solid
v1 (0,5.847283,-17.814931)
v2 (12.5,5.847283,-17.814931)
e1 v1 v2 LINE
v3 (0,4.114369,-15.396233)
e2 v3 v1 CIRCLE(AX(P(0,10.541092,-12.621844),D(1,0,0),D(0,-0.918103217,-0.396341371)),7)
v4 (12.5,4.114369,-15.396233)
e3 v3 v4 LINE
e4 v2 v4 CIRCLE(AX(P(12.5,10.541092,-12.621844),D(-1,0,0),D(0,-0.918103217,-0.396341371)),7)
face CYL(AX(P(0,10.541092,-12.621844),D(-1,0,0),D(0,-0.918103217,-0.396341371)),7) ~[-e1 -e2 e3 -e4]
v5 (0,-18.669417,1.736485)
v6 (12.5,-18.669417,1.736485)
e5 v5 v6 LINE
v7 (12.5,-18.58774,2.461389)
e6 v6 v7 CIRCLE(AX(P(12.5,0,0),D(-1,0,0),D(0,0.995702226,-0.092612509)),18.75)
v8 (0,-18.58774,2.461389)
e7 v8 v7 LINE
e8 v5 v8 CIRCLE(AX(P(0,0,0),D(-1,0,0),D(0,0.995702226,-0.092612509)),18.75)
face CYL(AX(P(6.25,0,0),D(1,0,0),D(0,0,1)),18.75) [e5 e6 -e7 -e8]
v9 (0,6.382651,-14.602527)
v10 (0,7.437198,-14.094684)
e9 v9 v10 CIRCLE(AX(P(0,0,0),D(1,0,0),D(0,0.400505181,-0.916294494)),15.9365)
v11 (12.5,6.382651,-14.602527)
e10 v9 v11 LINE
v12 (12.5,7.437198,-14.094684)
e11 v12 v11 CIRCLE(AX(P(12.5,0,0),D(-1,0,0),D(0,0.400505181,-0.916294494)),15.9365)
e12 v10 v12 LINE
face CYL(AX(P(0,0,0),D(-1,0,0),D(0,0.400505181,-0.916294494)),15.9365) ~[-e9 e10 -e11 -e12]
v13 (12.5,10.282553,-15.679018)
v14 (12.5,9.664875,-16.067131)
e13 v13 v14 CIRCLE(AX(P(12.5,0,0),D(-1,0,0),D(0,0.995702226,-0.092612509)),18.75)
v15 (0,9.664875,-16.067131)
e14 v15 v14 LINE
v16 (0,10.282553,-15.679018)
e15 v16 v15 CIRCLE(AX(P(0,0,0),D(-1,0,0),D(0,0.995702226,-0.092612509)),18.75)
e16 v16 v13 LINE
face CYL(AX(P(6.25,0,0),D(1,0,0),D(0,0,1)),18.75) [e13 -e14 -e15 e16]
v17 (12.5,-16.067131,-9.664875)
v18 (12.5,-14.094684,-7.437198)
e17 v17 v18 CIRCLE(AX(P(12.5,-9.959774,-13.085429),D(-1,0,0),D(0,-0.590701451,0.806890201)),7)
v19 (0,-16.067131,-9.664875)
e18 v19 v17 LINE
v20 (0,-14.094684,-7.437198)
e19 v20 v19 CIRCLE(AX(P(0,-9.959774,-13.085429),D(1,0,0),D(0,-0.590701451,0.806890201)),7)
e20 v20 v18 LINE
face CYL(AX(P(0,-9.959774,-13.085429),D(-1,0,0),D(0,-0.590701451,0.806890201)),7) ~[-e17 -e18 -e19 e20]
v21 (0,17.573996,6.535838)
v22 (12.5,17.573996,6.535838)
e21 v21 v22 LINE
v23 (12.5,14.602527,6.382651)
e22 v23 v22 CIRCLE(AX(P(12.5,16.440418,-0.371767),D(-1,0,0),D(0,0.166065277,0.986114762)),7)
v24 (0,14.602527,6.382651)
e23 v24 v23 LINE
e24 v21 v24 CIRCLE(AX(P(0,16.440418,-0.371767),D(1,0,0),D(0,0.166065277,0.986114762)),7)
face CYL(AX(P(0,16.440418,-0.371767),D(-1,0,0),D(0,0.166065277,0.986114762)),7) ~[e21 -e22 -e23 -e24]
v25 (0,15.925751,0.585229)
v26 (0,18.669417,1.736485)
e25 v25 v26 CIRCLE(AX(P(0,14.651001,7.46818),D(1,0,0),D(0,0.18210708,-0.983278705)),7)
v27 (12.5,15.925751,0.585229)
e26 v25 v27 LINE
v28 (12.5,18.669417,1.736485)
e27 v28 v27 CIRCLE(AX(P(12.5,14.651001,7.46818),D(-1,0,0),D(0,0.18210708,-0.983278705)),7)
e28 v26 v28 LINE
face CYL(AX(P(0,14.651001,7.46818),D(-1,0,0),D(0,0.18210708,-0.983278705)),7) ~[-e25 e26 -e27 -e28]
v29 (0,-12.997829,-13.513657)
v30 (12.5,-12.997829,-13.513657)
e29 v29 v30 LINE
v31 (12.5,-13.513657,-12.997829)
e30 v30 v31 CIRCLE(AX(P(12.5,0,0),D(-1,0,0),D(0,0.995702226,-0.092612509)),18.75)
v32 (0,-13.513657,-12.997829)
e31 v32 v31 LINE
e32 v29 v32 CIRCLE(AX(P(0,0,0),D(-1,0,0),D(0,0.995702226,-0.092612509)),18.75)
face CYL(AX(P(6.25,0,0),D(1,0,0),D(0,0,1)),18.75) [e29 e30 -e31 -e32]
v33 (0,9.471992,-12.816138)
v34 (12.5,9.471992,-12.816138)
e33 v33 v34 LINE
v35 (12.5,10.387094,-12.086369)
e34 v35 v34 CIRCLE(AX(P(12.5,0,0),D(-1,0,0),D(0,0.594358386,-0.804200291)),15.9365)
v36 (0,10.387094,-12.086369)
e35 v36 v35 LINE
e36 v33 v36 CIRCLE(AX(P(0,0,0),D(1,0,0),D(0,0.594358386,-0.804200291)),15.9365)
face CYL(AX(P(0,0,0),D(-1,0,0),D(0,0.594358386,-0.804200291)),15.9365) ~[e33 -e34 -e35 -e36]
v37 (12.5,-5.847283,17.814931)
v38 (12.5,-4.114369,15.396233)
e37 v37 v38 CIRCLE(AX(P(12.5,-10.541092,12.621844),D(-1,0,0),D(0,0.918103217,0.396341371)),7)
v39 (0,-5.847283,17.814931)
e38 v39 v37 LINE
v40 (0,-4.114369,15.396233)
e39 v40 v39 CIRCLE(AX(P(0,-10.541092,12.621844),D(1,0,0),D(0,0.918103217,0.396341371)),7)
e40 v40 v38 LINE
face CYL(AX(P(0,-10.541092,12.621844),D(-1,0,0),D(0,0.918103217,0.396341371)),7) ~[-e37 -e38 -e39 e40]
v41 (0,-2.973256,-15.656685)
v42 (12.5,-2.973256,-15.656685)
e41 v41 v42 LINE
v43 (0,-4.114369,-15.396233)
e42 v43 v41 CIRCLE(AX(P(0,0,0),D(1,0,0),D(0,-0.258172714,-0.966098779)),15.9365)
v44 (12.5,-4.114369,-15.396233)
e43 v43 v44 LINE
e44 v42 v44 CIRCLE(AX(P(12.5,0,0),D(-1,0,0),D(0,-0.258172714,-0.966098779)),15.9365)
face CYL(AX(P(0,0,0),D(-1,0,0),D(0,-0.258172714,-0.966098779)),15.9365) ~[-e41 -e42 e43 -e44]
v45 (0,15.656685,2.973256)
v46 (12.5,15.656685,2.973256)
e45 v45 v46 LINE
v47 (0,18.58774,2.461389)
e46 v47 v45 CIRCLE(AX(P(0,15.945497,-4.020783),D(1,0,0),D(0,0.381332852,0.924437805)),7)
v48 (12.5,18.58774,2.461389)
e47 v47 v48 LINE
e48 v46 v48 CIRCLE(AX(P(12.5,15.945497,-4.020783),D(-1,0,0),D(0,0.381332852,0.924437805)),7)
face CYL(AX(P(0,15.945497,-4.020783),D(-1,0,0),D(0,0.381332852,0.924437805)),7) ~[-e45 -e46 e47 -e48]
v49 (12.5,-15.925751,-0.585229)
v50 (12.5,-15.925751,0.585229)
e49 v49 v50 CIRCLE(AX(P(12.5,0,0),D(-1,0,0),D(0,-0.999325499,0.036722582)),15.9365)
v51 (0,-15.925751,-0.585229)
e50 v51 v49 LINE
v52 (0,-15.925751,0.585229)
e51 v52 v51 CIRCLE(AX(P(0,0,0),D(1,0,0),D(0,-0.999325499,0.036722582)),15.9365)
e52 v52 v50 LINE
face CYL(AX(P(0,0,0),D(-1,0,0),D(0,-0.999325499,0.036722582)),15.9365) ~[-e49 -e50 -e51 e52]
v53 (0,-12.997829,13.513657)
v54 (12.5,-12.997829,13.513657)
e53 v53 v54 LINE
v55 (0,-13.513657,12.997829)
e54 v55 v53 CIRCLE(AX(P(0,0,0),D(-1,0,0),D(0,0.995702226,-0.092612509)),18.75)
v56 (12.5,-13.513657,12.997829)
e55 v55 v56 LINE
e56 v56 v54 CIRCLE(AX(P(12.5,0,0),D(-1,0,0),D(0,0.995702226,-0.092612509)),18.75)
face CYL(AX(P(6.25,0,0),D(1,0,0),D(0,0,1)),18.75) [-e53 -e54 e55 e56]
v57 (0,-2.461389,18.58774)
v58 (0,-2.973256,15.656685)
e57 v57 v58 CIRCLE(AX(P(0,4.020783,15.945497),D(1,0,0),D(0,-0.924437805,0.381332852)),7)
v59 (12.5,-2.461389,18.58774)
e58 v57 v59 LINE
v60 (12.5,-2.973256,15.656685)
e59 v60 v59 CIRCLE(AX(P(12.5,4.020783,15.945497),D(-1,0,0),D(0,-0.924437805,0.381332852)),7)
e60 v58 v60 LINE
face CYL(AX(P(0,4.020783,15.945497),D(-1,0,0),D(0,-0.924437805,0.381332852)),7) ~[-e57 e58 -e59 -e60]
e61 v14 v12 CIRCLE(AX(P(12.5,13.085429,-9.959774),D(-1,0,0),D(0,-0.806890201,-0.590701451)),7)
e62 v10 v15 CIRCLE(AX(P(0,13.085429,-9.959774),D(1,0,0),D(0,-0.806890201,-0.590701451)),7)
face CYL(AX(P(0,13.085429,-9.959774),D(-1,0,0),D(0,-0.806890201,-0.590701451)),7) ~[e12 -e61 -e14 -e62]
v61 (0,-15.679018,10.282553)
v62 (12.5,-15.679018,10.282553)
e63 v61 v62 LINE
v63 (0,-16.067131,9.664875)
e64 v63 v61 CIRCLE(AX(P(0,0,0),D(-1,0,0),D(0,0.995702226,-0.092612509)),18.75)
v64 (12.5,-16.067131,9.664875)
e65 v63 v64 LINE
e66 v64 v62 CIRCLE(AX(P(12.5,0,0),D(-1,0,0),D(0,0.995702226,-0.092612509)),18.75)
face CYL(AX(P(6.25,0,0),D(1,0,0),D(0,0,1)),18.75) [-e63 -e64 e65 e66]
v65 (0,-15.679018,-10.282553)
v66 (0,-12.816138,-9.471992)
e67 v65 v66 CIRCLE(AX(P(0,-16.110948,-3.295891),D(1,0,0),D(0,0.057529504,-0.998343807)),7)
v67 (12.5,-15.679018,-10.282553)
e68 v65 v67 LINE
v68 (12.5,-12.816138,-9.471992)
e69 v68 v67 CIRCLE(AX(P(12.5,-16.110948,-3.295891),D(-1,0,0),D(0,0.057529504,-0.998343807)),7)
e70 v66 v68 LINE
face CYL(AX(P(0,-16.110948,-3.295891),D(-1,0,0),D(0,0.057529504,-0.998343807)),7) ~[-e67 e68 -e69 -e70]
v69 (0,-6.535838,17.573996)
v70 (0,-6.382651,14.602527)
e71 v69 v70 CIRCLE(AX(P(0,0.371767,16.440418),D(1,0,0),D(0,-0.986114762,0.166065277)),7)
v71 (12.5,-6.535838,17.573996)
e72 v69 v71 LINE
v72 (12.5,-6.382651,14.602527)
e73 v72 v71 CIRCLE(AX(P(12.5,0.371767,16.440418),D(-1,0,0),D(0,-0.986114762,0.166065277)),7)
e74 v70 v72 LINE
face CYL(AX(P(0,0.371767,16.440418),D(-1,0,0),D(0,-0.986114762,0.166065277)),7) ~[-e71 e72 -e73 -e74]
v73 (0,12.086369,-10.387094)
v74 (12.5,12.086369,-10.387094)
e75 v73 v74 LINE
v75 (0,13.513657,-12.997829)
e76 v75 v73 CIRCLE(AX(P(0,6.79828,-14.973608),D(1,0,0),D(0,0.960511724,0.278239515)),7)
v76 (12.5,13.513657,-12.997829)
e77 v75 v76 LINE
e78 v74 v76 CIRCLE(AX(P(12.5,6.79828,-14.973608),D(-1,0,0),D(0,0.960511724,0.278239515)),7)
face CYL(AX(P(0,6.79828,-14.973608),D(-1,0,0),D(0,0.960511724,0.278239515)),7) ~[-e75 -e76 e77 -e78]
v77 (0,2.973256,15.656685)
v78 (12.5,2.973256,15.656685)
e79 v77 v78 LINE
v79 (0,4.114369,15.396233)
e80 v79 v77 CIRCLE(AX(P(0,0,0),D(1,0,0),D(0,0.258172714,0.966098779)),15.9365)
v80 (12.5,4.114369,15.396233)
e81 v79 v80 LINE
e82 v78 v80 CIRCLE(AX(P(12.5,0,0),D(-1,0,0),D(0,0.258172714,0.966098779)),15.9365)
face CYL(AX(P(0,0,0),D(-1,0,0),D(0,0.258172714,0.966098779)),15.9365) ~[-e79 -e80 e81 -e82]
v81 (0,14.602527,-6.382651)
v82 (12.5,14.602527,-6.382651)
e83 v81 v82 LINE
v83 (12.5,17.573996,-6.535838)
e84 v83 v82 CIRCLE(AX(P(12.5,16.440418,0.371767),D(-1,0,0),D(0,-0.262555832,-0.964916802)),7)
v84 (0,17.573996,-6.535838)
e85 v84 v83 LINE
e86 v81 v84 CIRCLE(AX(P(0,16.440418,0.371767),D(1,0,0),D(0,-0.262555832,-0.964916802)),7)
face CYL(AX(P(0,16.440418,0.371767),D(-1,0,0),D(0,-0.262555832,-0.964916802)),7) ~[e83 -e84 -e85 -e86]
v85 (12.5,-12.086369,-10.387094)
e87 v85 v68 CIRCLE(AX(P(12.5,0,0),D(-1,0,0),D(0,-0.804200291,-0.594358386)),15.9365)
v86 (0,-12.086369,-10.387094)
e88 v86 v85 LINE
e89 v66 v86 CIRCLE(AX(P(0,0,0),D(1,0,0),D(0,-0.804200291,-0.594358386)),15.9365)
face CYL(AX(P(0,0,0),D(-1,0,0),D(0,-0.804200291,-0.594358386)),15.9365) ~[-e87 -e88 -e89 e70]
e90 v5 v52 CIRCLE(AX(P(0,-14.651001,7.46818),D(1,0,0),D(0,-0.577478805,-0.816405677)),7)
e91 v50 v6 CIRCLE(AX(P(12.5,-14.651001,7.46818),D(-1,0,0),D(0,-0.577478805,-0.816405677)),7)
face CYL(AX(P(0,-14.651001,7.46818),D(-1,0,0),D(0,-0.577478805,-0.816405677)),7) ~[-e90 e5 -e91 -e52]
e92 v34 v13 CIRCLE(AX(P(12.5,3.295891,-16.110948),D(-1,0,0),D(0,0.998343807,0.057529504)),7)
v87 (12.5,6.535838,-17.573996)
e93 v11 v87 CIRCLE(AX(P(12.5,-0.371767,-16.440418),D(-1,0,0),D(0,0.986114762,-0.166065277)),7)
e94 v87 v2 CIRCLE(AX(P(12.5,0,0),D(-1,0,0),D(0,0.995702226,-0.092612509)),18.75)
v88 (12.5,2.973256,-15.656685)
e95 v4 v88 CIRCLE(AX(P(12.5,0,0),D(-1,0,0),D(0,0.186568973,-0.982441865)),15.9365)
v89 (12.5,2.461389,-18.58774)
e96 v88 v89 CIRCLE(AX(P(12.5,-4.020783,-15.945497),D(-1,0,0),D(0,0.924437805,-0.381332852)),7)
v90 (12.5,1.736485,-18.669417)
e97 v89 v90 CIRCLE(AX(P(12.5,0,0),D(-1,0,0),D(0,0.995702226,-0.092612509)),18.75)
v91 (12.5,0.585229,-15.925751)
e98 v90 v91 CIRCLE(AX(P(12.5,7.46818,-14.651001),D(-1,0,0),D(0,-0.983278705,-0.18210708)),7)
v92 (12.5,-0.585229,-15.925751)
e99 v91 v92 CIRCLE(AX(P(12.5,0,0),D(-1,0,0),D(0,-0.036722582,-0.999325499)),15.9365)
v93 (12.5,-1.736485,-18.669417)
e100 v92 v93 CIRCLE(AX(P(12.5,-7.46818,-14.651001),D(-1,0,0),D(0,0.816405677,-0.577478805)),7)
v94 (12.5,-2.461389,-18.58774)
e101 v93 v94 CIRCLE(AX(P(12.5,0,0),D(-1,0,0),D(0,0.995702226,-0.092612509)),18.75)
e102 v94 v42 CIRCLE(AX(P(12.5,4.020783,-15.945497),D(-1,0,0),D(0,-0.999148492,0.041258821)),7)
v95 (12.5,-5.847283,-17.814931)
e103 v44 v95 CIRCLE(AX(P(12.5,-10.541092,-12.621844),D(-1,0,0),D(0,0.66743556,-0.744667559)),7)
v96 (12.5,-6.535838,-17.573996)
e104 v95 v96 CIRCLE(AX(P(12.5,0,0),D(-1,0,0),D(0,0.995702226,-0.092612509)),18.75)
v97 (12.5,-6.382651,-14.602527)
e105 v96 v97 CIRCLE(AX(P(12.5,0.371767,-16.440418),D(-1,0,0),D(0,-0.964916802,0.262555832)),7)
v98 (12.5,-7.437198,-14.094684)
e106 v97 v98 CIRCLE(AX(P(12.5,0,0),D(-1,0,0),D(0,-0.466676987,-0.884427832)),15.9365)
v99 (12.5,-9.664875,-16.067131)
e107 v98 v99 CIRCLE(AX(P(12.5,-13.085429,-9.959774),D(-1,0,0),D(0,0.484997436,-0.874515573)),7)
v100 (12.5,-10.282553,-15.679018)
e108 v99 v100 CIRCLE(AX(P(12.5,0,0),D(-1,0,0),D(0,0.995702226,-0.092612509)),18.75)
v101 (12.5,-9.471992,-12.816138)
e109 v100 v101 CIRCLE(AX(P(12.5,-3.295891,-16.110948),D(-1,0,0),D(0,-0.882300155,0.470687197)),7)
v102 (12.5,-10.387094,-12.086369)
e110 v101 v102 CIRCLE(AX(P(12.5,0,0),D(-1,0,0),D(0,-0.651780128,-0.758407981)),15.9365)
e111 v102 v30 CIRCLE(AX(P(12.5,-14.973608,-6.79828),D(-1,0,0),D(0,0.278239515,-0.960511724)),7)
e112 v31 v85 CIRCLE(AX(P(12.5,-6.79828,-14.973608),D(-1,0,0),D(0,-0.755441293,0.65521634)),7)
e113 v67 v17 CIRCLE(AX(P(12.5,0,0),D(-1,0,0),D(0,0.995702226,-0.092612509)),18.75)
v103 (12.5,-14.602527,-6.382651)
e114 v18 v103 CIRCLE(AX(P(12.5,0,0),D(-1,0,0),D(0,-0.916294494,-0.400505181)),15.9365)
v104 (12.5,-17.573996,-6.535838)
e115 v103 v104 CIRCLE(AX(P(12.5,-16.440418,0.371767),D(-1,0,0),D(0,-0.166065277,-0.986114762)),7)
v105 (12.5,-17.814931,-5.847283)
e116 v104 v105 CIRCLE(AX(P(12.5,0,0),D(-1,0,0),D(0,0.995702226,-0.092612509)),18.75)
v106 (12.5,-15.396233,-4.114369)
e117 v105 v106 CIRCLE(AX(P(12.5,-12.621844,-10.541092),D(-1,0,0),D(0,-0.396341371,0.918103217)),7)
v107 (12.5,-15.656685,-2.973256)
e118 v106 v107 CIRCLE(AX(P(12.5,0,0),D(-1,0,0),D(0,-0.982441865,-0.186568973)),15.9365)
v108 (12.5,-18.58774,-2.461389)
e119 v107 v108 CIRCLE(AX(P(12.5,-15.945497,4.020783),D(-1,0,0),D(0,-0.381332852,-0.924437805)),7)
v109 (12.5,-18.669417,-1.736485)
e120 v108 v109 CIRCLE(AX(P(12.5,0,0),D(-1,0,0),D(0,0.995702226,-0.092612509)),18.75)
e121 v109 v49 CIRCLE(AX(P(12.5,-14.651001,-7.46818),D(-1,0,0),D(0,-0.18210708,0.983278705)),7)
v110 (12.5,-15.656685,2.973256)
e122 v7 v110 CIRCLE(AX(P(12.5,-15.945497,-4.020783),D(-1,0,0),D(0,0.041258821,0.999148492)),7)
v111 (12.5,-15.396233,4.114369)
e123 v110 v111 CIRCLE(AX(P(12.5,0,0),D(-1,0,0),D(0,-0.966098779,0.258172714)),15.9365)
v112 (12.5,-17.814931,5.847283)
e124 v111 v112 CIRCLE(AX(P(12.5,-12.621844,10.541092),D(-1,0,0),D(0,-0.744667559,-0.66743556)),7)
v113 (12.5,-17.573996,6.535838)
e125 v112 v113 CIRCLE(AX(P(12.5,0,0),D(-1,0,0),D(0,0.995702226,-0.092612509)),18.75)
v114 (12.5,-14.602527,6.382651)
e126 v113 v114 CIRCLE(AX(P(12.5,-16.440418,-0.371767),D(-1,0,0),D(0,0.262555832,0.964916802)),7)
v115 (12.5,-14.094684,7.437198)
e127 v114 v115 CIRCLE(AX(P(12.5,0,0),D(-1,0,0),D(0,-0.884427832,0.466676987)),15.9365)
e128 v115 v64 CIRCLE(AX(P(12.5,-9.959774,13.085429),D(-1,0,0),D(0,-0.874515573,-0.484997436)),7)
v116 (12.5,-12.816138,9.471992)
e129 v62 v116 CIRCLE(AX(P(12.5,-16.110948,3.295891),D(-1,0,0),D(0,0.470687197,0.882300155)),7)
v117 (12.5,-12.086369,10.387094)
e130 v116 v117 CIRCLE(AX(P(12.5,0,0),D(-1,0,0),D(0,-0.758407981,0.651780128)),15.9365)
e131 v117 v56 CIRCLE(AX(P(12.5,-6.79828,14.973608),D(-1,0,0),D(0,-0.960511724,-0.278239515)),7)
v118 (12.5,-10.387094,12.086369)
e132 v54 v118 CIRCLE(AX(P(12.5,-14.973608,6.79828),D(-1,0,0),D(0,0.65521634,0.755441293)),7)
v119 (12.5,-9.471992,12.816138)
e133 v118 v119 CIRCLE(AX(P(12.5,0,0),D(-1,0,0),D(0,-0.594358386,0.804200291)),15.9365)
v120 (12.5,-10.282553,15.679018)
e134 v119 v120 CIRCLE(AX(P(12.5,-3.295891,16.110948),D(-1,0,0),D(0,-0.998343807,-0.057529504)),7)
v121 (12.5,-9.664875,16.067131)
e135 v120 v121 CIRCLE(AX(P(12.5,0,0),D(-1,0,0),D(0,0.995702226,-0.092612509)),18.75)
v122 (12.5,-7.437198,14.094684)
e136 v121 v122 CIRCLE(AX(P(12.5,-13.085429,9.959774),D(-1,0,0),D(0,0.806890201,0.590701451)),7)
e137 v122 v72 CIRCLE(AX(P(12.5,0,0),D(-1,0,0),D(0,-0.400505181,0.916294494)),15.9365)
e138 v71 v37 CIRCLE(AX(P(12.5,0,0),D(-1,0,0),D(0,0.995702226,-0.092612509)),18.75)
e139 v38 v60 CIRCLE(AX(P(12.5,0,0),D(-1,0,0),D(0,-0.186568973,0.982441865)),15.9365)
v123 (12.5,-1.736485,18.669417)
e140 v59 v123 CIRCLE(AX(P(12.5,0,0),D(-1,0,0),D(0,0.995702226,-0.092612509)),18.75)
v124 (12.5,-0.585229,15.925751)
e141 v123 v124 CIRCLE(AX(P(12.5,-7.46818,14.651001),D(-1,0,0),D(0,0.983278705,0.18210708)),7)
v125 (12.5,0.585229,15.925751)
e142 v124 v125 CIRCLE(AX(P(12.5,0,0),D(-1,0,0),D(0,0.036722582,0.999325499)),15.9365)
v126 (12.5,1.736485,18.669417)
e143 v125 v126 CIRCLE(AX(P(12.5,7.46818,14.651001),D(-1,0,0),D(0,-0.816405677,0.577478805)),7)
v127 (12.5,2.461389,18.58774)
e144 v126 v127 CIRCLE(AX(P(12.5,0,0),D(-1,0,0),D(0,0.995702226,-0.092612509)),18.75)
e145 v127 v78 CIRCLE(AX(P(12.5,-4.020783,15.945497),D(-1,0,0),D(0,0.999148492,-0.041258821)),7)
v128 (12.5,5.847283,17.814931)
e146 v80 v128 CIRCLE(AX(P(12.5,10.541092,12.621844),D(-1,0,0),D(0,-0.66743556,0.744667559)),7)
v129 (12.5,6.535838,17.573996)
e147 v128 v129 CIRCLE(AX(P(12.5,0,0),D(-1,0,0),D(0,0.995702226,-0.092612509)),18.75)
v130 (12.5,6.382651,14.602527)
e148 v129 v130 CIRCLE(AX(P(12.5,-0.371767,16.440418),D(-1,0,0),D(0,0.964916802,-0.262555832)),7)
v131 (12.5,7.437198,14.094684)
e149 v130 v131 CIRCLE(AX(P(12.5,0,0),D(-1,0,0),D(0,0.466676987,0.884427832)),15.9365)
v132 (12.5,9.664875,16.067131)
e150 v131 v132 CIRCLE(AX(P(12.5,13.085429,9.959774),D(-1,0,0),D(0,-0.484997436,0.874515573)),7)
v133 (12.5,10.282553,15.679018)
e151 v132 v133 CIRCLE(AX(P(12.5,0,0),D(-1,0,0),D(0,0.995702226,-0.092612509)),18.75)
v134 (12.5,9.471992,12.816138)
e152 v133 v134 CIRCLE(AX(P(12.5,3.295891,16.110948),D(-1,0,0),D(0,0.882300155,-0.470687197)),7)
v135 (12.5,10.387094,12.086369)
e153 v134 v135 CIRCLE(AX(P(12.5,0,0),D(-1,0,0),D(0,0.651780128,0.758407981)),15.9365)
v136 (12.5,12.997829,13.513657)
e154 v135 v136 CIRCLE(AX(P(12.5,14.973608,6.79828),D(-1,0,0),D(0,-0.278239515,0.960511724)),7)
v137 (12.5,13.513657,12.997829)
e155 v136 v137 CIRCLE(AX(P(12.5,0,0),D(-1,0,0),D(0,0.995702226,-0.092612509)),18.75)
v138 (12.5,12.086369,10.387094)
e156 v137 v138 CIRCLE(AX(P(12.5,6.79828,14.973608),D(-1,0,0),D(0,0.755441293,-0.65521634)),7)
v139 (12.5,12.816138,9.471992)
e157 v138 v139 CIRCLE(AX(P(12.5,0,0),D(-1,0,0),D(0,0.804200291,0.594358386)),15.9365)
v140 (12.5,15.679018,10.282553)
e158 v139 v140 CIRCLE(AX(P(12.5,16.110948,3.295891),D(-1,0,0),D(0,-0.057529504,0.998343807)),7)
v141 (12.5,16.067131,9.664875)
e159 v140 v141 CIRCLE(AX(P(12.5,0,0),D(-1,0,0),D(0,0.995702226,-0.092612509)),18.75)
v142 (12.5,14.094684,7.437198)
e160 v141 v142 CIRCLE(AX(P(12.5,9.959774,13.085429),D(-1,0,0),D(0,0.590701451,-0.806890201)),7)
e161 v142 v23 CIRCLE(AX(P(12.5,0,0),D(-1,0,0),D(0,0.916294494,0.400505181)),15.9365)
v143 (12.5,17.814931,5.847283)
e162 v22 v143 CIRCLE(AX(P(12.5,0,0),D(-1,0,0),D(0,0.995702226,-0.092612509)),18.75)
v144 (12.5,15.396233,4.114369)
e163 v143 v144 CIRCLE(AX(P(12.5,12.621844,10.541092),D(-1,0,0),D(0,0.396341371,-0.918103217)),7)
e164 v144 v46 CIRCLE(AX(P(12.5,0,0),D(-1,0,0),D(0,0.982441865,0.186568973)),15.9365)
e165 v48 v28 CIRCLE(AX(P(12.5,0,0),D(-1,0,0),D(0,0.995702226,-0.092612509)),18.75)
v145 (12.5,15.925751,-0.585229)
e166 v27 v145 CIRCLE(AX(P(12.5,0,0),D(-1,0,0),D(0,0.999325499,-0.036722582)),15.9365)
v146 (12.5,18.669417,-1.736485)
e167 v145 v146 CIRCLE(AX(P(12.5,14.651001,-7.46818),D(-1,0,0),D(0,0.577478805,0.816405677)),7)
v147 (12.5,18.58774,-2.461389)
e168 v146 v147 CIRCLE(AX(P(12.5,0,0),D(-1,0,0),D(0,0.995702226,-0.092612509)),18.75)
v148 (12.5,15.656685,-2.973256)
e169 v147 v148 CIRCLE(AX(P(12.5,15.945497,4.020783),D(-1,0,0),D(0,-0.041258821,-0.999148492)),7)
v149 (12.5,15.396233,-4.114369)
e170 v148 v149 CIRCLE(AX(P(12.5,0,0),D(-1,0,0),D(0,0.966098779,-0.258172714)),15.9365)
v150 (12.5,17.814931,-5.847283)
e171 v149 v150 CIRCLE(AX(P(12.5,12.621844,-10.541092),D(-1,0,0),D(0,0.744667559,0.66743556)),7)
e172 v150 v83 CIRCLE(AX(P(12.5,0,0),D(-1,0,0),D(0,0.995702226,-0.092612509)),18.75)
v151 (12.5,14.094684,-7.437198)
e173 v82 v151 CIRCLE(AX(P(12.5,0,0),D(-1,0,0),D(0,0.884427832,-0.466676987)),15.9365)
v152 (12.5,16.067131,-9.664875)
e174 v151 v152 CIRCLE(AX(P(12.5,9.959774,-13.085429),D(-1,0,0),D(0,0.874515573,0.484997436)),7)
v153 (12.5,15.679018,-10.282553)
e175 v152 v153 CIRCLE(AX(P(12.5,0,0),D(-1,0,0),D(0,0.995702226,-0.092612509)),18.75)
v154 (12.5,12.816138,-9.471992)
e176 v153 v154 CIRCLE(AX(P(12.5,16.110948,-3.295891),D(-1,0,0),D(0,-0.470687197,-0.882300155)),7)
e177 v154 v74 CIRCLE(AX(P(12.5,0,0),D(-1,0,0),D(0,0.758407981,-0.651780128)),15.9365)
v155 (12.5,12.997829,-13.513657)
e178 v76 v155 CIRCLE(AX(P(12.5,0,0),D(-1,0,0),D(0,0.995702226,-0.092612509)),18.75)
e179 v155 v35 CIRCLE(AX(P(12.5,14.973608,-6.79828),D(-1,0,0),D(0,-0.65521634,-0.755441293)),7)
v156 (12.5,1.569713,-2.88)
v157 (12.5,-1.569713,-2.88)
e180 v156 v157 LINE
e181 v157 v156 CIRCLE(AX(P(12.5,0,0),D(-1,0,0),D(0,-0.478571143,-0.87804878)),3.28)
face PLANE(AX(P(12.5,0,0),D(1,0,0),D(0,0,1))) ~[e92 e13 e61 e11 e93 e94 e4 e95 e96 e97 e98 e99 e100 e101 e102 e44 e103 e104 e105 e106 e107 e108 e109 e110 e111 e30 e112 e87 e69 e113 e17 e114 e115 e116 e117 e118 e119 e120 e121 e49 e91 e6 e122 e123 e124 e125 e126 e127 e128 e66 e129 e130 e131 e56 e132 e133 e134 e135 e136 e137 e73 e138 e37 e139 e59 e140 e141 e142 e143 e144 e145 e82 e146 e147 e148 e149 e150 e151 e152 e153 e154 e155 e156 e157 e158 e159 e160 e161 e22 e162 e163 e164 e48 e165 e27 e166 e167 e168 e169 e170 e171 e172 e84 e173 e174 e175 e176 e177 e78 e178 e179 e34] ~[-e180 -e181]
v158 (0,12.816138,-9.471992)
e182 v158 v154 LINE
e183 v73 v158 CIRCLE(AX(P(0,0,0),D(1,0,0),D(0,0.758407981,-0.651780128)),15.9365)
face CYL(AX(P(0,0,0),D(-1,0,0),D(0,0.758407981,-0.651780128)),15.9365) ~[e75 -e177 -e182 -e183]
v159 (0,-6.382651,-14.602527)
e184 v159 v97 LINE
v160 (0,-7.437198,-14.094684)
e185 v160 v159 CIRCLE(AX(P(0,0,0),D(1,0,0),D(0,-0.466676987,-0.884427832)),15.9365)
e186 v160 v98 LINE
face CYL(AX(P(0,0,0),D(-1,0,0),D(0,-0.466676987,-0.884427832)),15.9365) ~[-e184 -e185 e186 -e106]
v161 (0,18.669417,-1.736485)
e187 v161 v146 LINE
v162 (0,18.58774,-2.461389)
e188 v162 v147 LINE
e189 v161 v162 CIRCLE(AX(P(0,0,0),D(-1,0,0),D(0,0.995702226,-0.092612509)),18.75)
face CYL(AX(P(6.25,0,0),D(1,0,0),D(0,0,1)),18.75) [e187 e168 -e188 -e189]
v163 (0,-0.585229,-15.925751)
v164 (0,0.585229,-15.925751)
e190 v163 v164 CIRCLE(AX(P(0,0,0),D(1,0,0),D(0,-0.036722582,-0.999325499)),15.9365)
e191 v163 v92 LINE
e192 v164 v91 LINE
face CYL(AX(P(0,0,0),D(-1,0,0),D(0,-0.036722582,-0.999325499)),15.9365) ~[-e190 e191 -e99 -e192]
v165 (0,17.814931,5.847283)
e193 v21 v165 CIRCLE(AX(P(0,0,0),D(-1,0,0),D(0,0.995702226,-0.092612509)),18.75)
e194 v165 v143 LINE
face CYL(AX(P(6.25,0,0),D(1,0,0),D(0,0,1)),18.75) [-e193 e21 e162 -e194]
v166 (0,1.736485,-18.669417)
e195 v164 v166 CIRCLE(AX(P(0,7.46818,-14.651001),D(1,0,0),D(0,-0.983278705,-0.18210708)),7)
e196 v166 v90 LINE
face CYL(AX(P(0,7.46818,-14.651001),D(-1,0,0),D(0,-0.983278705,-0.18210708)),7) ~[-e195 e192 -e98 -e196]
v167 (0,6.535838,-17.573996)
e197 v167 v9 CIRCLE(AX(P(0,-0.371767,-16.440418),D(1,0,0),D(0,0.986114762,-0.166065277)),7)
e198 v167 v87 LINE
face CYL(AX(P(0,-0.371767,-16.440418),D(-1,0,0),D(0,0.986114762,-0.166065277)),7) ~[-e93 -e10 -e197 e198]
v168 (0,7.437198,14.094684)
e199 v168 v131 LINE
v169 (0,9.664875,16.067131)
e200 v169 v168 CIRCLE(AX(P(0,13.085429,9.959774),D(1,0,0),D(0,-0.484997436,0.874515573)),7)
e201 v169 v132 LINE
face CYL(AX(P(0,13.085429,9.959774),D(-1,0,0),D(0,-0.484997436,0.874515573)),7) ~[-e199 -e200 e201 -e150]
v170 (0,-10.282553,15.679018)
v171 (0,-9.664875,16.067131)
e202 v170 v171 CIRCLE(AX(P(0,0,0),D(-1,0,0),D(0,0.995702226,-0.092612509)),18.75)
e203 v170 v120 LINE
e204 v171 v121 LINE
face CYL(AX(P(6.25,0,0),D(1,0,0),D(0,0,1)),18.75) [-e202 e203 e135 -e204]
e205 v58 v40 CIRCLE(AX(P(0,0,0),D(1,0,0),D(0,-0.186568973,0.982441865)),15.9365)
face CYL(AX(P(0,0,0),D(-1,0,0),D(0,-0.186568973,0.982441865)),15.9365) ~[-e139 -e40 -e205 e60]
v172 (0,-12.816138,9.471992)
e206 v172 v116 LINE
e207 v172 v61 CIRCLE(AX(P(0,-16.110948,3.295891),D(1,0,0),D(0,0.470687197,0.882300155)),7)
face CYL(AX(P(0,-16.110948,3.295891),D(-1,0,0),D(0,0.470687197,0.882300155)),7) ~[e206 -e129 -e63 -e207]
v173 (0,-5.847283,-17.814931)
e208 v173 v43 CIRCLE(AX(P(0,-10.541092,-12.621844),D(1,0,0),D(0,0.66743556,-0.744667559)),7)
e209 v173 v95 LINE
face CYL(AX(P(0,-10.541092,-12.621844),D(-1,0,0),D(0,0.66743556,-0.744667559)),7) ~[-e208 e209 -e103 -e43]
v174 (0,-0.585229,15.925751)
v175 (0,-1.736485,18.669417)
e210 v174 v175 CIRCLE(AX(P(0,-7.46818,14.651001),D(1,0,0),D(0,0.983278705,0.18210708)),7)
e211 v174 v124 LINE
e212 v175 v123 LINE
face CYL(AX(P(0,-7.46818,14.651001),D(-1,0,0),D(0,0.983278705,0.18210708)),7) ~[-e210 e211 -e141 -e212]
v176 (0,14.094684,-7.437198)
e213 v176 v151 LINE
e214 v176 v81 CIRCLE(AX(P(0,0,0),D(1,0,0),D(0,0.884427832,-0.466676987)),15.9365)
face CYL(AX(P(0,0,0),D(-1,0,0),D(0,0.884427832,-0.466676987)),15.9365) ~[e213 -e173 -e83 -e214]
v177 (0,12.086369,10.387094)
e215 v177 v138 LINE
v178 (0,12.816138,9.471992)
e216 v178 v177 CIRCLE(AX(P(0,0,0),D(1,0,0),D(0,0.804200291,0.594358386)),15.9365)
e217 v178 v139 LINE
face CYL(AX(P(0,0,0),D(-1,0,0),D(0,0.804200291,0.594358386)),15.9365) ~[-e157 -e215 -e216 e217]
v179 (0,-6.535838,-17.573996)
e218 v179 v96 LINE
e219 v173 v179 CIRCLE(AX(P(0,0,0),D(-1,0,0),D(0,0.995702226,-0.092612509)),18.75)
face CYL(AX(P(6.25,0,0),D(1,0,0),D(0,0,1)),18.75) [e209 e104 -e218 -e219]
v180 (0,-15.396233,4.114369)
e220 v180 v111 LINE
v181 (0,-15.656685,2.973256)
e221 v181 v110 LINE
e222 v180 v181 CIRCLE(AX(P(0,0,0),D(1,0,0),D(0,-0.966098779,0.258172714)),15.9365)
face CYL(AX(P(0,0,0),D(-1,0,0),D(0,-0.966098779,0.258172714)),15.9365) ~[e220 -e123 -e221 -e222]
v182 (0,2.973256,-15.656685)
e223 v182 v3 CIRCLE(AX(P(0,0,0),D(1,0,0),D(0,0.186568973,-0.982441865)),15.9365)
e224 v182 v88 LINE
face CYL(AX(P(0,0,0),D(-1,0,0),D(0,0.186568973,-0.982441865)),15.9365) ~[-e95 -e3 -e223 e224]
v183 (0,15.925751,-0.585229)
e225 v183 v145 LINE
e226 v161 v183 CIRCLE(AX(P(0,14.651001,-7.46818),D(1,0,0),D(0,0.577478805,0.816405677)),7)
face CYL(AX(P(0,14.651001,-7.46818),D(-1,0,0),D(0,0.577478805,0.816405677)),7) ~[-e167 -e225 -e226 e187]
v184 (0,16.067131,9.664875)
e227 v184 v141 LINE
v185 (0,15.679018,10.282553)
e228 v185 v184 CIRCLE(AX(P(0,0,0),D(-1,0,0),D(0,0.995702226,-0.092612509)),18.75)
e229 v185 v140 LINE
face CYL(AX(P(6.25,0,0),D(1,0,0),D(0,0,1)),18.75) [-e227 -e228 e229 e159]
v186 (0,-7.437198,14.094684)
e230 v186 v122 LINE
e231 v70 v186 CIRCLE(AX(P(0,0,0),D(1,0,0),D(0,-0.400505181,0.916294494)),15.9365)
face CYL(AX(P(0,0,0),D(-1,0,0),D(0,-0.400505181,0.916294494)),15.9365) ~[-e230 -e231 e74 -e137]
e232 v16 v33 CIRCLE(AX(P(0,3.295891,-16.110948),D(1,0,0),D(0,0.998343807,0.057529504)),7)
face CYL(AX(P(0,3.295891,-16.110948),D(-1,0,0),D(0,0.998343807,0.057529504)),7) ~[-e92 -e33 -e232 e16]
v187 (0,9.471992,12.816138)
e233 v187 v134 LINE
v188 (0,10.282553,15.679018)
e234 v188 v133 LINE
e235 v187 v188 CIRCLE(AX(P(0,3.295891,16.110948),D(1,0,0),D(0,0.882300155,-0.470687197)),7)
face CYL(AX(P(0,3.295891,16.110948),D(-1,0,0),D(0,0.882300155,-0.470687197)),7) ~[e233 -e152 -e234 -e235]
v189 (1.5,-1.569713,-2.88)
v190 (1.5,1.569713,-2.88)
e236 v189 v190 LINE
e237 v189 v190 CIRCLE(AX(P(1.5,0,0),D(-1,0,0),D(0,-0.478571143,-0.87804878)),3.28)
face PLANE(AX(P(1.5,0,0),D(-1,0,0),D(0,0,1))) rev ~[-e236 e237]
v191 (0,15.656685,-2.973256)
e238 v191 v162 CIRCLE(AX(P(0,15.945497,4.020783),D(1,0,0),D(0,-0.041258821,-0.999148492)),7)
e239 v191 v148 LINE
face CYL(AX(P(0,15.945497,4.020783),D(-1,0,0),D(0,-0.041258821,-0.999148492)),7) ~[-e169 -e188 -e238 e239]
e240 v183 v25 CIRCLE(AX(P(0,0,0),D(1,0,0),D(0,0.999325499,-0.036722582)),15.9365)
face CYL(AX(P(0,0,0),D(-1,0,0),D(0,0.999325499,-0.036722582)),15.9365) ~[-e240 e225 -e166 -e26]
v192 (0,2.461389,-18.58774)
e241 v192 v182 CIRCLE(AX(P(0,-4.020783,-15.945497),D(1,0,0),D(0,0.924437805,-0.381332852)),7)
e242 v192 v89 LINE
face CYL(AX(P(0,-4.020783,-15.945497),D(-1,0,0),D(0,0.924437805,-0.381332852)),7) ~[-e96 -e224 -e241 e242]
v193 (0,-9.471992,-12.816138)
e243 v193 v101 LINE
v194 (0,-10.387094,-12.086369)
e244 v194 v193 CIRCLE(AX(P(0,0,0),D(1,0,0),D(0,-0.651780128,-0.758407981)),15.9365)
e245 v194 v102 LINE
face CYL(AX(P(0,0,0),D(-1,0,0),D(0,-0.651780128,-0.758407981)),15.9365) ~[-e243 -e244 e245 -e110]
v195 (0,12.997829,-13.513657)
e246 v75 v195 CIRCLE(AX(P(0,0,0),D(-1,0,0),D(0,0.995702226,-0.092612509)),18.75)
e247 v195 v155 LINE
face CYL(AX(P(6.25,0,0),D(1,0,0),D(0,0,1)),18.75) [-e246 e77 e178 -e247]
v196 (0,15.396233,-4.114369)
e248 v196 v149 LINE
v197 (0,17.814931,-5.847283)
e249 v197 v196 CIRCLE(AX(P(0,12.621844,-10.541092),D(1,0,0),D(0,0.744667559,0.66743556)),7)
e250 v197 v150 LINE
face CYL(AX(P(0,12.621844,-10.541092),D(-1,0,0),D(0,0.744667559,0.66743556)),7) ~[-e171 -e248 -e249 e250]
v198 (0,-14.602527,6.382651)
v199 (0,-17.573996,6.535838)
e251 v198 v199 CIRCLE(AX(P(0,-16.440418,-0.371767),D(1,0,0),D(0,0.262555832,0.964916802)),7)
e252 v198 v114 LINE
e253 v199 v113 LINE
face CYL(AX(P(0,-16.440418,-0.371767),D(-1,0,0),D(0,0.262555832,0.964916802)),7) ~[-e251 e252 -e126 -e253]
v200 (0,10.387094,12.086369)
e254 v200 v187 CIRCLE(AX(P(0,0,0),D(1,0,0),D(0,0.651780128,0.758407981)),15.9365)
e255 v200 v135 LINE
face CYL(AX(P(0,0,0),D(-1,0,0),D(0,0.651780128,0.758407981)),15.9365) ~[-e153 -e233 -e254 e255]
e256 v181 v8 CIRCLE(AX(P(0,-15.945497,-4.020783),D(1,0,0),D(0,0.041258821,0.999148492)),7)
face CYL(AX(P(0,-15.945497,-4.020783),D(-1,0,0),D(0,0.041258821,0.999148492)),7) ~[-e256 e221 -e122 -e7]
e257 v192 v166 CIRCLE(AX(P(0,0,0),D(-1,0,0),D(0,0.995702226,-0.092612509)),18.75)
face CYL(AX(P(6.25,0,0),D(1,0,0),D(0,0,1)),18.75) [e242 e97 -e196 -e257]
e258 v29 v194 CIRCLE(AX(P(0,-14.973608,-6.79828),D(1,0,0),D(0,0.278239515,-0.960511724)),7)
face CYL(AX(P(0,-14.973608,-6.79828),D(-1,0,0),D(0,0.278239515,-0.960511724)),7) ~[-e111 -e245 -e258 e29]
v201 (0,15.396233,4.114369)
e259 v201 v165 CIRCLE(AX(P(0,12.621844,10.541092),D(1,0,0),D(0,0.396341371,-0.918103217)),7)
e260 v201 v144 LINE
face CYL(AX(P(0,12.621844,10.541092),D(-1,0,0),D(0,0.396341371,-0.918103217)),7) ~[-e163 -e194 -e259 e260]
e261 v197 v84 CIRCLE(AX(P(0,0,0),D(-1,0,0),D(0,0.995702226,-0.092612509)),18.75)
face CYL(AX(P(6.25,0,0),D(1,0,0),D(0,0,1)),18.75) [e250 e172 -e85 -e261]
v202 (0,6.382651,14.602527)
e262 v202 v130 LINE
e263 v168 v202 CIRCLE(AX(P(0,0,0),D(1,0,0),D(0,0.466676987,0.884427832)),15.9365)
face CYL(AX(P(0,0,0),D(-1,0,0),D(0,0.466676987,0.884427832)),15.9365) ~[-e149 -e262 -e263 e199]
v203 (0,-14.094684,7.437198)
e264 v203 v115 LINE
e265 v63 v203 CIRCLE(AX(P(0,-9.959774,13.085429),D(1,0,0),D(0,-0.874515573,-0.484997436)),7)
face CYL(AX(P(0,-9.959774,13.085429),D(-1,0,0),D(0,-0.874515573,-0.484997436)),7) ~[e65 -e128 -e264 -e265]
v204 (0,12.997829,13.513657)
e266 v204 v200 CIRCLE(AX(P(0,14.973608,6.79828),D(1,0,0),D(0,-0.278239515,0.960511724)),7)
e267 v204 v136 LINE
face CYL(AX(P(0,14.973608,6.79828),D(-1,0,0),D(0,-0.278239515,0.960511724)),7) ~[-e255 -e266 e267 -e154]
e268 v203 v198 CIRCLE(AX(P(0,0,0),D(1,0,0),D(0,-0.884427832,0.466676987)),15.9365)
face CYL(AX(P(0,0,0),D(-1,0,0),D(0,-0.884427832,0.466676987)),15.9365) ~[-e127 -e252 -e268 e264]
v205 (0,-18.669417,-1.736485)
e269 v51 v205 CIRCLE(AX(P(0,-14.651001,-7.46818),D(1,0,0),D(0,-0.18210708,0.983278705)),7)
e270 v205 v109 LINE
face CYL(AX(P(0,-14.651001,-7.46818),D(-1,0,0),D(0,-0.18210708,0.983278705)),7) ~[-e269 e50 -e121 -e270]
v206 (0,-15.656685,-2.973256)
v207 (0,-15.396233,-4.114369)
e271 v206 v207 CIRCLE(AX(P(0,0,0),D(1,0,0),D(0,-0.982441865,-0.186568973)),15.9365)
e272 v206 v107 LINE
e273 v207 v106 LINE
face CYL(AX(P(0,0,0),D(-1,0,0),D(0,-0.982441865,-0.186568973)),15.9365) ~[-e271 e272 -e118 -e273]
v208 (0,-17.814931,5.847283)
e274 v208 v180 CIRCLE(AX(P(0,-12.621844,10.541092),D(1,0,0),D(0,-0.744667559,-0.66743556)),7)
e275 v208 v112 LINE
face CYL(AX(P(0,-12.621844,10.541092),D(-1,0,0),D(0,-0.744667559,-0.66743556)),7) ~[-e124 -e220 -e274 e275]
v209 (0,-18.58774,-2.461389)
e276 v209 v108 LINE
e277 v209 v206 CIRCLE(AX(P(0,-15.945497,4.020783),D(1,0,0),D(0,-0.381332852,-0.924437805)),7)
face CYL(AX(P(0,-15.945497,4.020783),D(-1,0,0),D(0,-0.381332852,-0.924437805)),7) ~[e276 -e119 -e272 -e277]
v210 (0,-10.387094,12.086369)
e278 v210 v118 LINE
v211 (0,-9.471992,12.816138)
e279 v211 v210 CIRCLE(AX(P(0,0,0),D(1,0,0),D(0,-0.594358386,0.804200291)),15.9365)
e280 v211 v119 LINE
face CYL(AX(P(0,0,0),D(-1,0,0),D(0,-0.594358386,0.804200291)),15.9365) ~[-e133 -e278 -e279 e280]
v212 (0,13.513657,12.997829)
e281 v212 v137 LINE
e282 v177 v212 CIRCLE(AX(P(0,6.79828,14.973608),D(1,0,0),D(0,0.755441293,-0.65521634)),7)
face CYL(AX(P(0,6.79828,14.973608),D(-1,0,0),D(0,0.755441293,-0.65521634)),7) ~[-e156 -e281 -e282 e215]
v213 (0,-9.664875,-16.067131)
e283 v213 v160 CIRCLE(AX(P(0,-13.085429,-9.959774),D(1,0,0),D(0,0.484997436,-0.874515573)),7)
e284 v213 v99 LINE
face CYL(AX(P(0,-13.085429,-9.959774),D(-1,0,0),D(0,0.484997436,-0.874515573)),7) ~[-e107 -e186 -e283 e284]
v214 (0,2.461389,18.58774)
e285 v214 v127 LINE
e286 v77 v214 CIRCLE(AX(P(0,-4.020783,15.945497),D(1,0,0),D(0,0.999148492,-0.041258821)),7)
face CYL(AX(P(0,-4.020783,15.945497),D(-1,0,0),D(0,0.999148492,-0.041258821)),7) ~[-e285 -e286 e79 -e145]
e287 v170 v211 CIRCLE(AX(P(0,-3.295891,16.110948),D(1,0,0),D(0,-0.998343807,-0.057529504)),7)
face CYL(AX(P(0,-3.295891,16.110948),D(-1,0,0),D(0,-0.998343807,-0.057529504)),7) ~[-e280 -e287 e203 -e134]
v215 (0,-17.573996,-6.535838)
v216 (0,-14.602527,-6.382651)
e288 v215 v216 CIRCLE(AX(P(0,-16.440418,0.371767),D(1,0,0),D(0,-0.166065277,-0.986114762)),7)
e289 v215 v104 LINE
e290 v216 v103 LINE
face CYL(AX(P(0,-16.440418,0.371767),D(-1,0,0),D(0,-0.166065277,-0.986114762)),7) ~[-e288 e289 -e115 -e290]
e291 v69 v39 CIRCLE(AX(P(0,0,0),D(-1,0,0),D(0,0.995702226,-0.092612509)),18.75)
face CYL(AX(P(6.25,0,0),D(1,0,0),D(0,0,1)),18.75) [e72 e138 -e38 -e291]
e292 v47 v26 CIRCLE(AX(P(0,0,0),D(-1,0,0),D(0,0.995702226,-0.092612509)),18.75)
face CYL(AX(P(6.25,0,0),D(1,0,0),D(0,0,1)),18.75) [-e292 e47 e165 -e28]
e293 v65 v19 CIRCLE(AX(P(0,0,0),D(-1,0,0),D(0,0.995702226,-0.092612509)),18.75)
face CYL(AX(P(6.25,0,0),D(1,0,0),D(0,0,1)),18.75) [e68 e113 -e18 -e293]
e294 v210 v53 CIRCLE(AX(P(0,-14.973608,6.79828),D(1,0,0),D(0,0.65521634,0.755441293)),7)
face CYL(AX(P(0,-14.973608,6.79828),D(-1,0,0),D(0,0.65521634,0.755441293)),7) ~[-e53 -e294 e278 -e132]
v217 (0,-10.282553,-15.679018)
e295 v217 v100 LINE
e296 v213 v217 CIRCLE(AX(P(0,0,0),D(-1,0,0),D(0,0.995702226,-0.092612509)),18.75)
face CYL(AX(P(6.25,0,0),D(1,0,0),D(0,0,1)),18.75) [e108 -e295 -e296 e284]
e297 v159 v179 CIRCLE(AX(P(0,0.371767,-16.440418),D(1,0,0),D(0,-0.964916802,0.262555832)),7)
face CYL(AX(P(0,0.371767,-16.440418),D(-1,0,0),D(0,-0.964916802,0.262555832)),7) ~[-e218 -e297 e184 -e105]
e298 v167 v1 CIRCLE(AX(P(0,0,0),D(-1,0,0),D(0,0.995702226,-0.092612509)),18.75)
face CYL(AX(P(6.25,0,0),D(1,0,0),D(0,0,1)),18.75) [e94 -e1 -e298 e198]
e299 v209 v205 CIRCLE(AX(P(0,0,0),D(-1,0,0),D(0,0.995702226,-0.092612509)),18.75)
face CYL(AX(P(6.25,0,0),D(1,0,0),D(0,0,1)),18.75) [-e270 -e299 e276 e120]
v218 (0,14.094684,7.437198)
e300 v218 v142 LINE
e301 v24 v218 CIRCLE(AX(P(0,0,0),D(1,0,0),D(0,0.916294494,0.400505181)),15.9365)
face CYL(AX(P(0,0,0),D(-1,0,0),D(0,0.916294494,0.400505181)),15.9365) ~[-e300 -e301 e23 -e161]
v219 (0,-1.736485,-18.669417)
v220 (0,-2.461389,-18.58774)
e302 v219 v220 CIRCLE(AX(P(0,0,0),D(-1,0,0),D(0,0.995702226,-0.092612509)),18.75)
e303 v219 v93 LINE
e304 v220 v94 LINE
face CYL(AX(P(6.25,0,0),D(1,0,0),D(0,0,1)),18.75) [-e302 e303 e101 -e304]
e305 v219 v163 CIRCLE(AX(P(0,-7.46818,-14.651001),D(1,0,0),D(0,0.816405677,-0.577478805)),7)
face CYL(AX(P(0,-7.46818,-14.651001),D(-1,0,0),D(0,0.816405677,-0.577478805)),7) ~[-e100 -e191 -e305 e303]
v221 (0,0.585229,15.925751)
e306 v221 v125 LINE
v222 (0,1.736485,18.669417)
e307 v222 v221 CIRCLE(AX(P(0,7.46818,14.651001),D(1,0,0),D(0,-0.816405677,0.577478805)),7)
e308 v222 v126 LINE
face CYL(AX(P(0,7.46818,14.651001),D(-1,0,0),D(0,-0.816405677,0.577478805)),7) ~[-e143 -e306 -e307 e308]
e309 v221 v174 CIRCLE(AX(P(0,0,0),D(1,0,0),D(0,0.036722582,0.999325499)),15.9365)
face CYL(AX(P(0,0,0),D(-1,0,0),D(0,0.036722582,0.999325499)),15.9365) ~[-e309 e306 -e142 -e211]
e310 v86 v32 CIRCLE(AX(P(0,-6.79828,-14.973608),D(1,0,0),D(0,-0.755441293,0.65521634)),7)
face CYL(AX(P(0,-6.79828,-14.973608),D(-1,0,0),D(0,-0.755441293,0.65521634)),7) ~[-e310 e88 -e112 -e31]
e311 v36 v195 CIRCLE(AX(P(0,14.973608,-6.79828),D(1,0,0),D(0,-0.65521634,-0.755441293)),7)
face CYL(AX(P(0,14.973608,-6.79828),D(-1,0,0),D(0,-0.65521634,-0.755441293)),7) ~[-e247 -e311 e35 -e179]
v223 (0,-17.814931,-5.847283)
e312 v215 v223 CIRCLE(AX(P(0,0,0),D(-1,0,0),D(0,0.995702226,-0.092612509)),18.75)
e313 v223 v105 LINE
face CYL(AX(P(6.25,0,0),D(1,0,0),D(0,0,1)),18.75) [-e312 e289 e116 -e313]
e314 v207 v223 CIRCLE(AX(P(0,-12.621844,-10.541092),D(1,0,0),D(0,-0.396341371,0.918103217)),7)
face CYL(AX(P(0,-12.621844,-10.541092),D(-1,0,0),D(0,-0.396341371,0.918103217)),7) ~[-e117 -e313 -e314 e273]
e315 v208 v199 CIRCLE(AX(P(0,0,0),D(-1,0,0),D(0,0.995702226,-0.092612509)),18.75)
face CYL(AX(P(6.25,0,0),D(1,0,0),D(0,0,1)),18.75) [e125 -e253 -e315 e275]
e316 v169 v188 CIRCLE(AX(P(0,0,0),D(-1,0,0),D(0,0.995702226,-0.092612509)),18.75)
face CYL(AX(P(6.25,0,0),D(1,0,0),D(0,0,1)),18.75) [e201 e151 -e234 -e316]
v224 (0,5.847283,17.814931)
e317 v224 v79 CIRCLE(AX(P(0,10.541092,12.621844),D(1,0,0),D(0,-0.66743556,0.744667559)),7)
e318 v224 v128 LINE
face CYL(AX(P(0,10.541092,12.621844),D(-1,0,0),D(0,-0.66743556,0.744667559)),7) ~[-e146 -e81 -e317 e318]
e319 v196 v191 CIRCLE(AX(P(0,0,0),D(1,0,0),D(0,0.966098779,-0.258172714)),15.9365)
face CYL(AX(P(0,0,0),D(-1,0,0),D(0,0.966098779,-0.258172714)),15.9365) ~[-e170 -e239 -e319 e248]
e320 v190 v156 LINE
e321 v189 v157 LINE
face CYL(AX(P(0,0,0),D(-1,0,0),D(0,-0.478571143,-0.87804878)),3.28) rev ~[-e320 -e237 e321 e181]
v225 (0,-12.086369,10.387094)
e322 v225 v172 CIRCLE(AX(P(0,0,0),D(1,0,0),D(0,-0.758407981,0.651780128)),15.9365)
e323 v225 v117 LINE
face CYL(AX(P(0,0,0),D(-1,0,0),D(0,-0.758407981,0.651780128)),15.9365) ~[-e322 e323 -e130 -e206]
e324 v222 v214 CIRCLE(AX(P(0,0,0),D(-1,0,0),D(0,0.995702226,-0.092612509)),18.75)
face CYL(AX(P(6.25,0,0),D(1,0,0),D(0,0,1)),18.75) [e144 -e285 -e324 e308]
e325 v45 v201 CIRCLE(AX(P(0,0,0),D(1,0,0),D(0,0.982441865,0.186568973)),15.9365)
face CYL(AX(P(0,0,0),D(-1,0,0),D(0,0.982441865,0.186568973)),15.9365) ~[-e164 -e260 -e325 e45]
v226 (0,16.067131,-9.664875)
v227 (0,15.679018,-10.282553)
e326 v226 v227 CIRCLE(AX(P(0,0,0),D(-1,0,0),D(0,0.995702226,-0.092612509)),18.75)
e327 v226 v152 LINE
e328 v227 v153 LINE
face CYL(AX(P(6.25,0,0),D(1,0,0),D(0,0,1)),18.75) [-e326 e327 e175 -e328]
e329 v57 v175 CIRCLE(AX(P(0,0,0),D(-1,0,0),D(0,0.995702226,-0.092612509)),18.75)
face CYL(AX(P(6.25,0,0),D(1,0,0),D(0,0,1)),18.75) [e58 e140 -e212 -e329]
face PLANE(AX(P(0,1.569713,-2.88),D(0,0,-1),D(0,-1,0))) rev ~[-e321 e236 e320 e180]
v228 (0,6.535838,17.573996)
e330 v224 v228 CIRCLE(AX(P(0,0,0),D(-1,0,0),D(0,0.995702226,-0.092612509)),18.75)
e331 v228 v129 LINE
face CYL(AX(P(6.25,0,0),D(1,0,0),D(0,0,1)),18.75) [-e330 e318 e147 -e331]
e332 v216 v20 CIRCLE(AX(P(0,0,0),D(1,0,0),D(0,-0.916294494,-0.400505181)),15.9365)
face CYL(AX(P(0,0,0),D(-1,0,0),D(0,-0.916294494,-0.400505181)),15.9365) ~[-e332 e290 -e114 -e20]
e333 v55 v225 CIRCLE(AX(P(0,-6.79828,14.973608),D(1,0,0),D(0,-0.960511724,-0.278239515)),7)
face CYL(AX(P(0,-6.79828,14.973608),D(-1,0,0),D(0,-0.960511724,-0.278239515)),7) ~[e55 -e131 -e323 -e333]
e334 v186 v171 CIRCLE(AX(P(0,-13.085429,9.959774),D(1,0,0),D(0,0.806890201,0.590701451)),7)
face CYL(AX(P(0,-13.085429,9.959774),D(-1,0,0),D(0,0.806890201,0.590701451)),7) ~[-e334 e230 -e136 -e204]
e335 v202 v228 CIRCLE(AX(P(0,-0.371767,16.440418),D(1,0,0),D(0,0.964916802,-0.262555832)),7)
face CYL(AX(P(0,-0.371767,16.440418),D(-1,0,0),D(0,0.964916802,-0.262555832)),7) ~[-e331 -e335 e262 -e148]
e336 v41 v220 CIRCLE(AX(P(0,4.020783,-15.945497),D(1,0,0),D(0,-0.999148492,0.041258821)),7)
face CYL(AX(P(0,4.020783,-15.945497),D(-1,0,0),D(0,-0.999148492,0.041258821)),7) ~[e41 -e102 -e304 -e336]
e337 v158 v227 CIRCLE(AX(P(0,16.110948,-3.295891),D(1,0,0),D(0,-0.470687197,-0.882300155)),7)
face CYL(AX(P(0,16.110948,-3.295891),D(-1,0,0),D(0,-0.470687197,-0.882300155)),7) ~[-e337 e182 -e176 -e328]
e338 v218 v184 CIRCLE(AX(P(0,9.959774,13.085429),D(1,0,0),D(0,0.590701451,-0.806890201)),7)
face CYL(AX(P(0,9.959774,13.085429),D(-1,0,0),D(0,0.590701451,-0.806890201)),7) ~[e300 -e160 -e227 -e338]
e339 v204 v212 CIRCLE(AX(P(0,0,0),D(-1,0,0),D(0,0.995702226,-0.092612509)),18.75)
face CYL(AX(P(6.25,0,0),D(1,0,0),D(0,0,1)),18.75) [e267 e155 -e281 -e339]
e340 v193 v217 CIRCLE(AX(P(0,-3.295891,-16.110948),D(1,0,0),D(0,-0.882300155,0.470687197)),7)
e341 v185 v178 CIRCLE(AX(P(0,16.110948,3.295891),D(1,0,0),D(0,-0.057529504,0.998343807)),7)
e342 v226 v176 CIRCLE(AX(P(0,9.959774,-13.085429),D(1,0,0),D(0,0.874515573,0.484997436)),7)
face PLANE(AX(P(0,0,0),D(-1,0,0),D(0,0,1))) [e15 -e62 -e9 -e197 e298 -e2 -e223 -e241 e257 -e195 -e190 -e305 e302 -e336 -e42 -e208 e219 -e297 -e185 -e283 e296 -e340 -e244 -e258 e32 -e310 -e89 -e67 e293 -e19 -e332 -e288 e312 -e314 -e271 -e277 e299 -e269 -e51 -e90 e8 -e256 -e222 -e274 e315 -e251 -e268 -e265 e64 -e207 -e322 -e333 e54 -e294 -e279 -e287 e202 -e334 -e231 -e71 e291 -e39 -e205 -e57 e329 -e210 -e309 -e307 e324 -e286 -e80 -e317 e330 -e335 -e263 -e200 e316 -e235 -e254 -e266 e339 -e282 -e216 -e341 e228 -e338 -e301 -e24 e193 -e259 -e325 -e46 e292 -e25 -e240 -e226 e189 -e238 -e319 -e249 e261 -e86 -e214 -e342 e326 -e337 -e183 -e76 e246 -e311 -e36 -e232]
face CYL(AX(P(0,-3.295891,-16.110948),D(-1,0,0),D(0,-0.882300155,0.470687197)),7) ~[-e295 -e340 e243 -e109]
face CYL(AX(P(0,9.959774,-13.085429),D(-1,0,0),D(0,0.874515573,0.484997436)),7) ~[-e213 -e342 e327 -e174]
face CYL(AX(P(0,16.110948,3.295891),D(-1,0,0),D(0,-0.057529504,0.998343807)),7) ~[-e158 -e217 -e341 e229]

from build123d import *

# Parameters (mm, degrees)
BASPROSKE_W         = 12.5
BASPROSKE_H         = 18.75
TOOTHCUT_DEPTH      = 30.315098499
TEETHCUTS_COUNT     = 28
TEETHCUTS_ANGLE     = 347.142857143
BORSKE_R            = 1
BORE_DEPTH          = 50.0000508
CUT_EXTRUDE1_DEPTH  = 30.212056464
SKETCH2_R           = 3.28
BOSS_EXTRUDE1_DEPTH = 1.5


with BuildPart() as part:
    # BasProSke → Base-Revolve (revolve)
    with BuildSketch(Plane(origin=(0, 0, 0), x_dir=(1, 0, 0), z_dir=(0, 1, 0)), mode=Mode.PRIVATE) as base_revolve_sk:
        with Locations((6.25, 9.375)):
            Rectangle(BASPROSKE_W, BASPROSKE_H)
    revolve(base_revolve_sk.sketch.rotate(Axis((-10, 0, 0), (1, 0, 0)), 180), axis=Axis((-10, 0, 0), (1, 0, 0)))

    # TooCutSke → ToothCut (cut, through all)
    with BuildSketch(Plane(origin=(0, 0, 0), x_dir=(0, 0, -1), z_dir=(1, 0, 0))):
        with BuildLine():
            ThreePointArc((0.585229427, 15.925750807), (0, 15.9365), (-0.585229427, 15.925750807))
            ThreePointArc((-0.585229427, 15.925750807), (-1.019072842, 17.372951322), (-1.753340618, 18.693352878))
            ThreePointArc((-1.753340618, 18.693352878), (0, 18.7754), (1.753340618, 18.693352878))
            ThreePointArc((1.753340618, 18.693352878), (1.019072842, 17.372951322), (0.585229427, 15.925750807))
        make_face()
    toothcut = extrude(amount=TOOTHCUT_DEPTH, mode=Mode.SUBTRACT)

    # TeethCuts: ToothCut ×28 about axis
    teethcuts_axis = Axis((-10, 0, 0), (1, 0, 0))
    for i in range(1, TEETHCUTS_COUNT):
        add(toothcut.rotate(teethcuts_axis, i * TEETHCUTS_ANGLE / (TEETHCUTS_COUNT - 1)), mode=Mode.SUBTRACT)

    # BorSke → Bore (cut, symmetric)
    with BuildSketch(Plane(origin=(0, 0, 0), x_dir=(0, 0, -1), z_dir=(1, 0, 0))):
        with Locations(Location((0, 0, 0), (0, 0, 180))):
            Circle(BORSKE_R)
    extrude(amount=BORE_DEPTH, both=True, mode=Mode.SUBTRACT)

    # Sketch1 → Cut-Extrude1 (cut, through all)
    with BuildSketch(Plane.ZY):
        with BuildLine():
            Line((-2.88, 1.56971335), (-2.88, -1.56971335))
            ThreePointArc((-2.88, -1.56971335), (3.28, 0), (-2.88, 1.56971335))
        make_face()
    extrude(amount=-CUT_EXTRUDE1_DEPTH, mode=Mode.SUBTRACT)

    # Sketch2 → Boss-Extrude1 (add)
    with BuildSketch(Plane.ZY):
        Circle(SKETCH2_R)
    extrude(amount=-BOSS_EXTRUDE1_DEPTH)


solid = part.part
